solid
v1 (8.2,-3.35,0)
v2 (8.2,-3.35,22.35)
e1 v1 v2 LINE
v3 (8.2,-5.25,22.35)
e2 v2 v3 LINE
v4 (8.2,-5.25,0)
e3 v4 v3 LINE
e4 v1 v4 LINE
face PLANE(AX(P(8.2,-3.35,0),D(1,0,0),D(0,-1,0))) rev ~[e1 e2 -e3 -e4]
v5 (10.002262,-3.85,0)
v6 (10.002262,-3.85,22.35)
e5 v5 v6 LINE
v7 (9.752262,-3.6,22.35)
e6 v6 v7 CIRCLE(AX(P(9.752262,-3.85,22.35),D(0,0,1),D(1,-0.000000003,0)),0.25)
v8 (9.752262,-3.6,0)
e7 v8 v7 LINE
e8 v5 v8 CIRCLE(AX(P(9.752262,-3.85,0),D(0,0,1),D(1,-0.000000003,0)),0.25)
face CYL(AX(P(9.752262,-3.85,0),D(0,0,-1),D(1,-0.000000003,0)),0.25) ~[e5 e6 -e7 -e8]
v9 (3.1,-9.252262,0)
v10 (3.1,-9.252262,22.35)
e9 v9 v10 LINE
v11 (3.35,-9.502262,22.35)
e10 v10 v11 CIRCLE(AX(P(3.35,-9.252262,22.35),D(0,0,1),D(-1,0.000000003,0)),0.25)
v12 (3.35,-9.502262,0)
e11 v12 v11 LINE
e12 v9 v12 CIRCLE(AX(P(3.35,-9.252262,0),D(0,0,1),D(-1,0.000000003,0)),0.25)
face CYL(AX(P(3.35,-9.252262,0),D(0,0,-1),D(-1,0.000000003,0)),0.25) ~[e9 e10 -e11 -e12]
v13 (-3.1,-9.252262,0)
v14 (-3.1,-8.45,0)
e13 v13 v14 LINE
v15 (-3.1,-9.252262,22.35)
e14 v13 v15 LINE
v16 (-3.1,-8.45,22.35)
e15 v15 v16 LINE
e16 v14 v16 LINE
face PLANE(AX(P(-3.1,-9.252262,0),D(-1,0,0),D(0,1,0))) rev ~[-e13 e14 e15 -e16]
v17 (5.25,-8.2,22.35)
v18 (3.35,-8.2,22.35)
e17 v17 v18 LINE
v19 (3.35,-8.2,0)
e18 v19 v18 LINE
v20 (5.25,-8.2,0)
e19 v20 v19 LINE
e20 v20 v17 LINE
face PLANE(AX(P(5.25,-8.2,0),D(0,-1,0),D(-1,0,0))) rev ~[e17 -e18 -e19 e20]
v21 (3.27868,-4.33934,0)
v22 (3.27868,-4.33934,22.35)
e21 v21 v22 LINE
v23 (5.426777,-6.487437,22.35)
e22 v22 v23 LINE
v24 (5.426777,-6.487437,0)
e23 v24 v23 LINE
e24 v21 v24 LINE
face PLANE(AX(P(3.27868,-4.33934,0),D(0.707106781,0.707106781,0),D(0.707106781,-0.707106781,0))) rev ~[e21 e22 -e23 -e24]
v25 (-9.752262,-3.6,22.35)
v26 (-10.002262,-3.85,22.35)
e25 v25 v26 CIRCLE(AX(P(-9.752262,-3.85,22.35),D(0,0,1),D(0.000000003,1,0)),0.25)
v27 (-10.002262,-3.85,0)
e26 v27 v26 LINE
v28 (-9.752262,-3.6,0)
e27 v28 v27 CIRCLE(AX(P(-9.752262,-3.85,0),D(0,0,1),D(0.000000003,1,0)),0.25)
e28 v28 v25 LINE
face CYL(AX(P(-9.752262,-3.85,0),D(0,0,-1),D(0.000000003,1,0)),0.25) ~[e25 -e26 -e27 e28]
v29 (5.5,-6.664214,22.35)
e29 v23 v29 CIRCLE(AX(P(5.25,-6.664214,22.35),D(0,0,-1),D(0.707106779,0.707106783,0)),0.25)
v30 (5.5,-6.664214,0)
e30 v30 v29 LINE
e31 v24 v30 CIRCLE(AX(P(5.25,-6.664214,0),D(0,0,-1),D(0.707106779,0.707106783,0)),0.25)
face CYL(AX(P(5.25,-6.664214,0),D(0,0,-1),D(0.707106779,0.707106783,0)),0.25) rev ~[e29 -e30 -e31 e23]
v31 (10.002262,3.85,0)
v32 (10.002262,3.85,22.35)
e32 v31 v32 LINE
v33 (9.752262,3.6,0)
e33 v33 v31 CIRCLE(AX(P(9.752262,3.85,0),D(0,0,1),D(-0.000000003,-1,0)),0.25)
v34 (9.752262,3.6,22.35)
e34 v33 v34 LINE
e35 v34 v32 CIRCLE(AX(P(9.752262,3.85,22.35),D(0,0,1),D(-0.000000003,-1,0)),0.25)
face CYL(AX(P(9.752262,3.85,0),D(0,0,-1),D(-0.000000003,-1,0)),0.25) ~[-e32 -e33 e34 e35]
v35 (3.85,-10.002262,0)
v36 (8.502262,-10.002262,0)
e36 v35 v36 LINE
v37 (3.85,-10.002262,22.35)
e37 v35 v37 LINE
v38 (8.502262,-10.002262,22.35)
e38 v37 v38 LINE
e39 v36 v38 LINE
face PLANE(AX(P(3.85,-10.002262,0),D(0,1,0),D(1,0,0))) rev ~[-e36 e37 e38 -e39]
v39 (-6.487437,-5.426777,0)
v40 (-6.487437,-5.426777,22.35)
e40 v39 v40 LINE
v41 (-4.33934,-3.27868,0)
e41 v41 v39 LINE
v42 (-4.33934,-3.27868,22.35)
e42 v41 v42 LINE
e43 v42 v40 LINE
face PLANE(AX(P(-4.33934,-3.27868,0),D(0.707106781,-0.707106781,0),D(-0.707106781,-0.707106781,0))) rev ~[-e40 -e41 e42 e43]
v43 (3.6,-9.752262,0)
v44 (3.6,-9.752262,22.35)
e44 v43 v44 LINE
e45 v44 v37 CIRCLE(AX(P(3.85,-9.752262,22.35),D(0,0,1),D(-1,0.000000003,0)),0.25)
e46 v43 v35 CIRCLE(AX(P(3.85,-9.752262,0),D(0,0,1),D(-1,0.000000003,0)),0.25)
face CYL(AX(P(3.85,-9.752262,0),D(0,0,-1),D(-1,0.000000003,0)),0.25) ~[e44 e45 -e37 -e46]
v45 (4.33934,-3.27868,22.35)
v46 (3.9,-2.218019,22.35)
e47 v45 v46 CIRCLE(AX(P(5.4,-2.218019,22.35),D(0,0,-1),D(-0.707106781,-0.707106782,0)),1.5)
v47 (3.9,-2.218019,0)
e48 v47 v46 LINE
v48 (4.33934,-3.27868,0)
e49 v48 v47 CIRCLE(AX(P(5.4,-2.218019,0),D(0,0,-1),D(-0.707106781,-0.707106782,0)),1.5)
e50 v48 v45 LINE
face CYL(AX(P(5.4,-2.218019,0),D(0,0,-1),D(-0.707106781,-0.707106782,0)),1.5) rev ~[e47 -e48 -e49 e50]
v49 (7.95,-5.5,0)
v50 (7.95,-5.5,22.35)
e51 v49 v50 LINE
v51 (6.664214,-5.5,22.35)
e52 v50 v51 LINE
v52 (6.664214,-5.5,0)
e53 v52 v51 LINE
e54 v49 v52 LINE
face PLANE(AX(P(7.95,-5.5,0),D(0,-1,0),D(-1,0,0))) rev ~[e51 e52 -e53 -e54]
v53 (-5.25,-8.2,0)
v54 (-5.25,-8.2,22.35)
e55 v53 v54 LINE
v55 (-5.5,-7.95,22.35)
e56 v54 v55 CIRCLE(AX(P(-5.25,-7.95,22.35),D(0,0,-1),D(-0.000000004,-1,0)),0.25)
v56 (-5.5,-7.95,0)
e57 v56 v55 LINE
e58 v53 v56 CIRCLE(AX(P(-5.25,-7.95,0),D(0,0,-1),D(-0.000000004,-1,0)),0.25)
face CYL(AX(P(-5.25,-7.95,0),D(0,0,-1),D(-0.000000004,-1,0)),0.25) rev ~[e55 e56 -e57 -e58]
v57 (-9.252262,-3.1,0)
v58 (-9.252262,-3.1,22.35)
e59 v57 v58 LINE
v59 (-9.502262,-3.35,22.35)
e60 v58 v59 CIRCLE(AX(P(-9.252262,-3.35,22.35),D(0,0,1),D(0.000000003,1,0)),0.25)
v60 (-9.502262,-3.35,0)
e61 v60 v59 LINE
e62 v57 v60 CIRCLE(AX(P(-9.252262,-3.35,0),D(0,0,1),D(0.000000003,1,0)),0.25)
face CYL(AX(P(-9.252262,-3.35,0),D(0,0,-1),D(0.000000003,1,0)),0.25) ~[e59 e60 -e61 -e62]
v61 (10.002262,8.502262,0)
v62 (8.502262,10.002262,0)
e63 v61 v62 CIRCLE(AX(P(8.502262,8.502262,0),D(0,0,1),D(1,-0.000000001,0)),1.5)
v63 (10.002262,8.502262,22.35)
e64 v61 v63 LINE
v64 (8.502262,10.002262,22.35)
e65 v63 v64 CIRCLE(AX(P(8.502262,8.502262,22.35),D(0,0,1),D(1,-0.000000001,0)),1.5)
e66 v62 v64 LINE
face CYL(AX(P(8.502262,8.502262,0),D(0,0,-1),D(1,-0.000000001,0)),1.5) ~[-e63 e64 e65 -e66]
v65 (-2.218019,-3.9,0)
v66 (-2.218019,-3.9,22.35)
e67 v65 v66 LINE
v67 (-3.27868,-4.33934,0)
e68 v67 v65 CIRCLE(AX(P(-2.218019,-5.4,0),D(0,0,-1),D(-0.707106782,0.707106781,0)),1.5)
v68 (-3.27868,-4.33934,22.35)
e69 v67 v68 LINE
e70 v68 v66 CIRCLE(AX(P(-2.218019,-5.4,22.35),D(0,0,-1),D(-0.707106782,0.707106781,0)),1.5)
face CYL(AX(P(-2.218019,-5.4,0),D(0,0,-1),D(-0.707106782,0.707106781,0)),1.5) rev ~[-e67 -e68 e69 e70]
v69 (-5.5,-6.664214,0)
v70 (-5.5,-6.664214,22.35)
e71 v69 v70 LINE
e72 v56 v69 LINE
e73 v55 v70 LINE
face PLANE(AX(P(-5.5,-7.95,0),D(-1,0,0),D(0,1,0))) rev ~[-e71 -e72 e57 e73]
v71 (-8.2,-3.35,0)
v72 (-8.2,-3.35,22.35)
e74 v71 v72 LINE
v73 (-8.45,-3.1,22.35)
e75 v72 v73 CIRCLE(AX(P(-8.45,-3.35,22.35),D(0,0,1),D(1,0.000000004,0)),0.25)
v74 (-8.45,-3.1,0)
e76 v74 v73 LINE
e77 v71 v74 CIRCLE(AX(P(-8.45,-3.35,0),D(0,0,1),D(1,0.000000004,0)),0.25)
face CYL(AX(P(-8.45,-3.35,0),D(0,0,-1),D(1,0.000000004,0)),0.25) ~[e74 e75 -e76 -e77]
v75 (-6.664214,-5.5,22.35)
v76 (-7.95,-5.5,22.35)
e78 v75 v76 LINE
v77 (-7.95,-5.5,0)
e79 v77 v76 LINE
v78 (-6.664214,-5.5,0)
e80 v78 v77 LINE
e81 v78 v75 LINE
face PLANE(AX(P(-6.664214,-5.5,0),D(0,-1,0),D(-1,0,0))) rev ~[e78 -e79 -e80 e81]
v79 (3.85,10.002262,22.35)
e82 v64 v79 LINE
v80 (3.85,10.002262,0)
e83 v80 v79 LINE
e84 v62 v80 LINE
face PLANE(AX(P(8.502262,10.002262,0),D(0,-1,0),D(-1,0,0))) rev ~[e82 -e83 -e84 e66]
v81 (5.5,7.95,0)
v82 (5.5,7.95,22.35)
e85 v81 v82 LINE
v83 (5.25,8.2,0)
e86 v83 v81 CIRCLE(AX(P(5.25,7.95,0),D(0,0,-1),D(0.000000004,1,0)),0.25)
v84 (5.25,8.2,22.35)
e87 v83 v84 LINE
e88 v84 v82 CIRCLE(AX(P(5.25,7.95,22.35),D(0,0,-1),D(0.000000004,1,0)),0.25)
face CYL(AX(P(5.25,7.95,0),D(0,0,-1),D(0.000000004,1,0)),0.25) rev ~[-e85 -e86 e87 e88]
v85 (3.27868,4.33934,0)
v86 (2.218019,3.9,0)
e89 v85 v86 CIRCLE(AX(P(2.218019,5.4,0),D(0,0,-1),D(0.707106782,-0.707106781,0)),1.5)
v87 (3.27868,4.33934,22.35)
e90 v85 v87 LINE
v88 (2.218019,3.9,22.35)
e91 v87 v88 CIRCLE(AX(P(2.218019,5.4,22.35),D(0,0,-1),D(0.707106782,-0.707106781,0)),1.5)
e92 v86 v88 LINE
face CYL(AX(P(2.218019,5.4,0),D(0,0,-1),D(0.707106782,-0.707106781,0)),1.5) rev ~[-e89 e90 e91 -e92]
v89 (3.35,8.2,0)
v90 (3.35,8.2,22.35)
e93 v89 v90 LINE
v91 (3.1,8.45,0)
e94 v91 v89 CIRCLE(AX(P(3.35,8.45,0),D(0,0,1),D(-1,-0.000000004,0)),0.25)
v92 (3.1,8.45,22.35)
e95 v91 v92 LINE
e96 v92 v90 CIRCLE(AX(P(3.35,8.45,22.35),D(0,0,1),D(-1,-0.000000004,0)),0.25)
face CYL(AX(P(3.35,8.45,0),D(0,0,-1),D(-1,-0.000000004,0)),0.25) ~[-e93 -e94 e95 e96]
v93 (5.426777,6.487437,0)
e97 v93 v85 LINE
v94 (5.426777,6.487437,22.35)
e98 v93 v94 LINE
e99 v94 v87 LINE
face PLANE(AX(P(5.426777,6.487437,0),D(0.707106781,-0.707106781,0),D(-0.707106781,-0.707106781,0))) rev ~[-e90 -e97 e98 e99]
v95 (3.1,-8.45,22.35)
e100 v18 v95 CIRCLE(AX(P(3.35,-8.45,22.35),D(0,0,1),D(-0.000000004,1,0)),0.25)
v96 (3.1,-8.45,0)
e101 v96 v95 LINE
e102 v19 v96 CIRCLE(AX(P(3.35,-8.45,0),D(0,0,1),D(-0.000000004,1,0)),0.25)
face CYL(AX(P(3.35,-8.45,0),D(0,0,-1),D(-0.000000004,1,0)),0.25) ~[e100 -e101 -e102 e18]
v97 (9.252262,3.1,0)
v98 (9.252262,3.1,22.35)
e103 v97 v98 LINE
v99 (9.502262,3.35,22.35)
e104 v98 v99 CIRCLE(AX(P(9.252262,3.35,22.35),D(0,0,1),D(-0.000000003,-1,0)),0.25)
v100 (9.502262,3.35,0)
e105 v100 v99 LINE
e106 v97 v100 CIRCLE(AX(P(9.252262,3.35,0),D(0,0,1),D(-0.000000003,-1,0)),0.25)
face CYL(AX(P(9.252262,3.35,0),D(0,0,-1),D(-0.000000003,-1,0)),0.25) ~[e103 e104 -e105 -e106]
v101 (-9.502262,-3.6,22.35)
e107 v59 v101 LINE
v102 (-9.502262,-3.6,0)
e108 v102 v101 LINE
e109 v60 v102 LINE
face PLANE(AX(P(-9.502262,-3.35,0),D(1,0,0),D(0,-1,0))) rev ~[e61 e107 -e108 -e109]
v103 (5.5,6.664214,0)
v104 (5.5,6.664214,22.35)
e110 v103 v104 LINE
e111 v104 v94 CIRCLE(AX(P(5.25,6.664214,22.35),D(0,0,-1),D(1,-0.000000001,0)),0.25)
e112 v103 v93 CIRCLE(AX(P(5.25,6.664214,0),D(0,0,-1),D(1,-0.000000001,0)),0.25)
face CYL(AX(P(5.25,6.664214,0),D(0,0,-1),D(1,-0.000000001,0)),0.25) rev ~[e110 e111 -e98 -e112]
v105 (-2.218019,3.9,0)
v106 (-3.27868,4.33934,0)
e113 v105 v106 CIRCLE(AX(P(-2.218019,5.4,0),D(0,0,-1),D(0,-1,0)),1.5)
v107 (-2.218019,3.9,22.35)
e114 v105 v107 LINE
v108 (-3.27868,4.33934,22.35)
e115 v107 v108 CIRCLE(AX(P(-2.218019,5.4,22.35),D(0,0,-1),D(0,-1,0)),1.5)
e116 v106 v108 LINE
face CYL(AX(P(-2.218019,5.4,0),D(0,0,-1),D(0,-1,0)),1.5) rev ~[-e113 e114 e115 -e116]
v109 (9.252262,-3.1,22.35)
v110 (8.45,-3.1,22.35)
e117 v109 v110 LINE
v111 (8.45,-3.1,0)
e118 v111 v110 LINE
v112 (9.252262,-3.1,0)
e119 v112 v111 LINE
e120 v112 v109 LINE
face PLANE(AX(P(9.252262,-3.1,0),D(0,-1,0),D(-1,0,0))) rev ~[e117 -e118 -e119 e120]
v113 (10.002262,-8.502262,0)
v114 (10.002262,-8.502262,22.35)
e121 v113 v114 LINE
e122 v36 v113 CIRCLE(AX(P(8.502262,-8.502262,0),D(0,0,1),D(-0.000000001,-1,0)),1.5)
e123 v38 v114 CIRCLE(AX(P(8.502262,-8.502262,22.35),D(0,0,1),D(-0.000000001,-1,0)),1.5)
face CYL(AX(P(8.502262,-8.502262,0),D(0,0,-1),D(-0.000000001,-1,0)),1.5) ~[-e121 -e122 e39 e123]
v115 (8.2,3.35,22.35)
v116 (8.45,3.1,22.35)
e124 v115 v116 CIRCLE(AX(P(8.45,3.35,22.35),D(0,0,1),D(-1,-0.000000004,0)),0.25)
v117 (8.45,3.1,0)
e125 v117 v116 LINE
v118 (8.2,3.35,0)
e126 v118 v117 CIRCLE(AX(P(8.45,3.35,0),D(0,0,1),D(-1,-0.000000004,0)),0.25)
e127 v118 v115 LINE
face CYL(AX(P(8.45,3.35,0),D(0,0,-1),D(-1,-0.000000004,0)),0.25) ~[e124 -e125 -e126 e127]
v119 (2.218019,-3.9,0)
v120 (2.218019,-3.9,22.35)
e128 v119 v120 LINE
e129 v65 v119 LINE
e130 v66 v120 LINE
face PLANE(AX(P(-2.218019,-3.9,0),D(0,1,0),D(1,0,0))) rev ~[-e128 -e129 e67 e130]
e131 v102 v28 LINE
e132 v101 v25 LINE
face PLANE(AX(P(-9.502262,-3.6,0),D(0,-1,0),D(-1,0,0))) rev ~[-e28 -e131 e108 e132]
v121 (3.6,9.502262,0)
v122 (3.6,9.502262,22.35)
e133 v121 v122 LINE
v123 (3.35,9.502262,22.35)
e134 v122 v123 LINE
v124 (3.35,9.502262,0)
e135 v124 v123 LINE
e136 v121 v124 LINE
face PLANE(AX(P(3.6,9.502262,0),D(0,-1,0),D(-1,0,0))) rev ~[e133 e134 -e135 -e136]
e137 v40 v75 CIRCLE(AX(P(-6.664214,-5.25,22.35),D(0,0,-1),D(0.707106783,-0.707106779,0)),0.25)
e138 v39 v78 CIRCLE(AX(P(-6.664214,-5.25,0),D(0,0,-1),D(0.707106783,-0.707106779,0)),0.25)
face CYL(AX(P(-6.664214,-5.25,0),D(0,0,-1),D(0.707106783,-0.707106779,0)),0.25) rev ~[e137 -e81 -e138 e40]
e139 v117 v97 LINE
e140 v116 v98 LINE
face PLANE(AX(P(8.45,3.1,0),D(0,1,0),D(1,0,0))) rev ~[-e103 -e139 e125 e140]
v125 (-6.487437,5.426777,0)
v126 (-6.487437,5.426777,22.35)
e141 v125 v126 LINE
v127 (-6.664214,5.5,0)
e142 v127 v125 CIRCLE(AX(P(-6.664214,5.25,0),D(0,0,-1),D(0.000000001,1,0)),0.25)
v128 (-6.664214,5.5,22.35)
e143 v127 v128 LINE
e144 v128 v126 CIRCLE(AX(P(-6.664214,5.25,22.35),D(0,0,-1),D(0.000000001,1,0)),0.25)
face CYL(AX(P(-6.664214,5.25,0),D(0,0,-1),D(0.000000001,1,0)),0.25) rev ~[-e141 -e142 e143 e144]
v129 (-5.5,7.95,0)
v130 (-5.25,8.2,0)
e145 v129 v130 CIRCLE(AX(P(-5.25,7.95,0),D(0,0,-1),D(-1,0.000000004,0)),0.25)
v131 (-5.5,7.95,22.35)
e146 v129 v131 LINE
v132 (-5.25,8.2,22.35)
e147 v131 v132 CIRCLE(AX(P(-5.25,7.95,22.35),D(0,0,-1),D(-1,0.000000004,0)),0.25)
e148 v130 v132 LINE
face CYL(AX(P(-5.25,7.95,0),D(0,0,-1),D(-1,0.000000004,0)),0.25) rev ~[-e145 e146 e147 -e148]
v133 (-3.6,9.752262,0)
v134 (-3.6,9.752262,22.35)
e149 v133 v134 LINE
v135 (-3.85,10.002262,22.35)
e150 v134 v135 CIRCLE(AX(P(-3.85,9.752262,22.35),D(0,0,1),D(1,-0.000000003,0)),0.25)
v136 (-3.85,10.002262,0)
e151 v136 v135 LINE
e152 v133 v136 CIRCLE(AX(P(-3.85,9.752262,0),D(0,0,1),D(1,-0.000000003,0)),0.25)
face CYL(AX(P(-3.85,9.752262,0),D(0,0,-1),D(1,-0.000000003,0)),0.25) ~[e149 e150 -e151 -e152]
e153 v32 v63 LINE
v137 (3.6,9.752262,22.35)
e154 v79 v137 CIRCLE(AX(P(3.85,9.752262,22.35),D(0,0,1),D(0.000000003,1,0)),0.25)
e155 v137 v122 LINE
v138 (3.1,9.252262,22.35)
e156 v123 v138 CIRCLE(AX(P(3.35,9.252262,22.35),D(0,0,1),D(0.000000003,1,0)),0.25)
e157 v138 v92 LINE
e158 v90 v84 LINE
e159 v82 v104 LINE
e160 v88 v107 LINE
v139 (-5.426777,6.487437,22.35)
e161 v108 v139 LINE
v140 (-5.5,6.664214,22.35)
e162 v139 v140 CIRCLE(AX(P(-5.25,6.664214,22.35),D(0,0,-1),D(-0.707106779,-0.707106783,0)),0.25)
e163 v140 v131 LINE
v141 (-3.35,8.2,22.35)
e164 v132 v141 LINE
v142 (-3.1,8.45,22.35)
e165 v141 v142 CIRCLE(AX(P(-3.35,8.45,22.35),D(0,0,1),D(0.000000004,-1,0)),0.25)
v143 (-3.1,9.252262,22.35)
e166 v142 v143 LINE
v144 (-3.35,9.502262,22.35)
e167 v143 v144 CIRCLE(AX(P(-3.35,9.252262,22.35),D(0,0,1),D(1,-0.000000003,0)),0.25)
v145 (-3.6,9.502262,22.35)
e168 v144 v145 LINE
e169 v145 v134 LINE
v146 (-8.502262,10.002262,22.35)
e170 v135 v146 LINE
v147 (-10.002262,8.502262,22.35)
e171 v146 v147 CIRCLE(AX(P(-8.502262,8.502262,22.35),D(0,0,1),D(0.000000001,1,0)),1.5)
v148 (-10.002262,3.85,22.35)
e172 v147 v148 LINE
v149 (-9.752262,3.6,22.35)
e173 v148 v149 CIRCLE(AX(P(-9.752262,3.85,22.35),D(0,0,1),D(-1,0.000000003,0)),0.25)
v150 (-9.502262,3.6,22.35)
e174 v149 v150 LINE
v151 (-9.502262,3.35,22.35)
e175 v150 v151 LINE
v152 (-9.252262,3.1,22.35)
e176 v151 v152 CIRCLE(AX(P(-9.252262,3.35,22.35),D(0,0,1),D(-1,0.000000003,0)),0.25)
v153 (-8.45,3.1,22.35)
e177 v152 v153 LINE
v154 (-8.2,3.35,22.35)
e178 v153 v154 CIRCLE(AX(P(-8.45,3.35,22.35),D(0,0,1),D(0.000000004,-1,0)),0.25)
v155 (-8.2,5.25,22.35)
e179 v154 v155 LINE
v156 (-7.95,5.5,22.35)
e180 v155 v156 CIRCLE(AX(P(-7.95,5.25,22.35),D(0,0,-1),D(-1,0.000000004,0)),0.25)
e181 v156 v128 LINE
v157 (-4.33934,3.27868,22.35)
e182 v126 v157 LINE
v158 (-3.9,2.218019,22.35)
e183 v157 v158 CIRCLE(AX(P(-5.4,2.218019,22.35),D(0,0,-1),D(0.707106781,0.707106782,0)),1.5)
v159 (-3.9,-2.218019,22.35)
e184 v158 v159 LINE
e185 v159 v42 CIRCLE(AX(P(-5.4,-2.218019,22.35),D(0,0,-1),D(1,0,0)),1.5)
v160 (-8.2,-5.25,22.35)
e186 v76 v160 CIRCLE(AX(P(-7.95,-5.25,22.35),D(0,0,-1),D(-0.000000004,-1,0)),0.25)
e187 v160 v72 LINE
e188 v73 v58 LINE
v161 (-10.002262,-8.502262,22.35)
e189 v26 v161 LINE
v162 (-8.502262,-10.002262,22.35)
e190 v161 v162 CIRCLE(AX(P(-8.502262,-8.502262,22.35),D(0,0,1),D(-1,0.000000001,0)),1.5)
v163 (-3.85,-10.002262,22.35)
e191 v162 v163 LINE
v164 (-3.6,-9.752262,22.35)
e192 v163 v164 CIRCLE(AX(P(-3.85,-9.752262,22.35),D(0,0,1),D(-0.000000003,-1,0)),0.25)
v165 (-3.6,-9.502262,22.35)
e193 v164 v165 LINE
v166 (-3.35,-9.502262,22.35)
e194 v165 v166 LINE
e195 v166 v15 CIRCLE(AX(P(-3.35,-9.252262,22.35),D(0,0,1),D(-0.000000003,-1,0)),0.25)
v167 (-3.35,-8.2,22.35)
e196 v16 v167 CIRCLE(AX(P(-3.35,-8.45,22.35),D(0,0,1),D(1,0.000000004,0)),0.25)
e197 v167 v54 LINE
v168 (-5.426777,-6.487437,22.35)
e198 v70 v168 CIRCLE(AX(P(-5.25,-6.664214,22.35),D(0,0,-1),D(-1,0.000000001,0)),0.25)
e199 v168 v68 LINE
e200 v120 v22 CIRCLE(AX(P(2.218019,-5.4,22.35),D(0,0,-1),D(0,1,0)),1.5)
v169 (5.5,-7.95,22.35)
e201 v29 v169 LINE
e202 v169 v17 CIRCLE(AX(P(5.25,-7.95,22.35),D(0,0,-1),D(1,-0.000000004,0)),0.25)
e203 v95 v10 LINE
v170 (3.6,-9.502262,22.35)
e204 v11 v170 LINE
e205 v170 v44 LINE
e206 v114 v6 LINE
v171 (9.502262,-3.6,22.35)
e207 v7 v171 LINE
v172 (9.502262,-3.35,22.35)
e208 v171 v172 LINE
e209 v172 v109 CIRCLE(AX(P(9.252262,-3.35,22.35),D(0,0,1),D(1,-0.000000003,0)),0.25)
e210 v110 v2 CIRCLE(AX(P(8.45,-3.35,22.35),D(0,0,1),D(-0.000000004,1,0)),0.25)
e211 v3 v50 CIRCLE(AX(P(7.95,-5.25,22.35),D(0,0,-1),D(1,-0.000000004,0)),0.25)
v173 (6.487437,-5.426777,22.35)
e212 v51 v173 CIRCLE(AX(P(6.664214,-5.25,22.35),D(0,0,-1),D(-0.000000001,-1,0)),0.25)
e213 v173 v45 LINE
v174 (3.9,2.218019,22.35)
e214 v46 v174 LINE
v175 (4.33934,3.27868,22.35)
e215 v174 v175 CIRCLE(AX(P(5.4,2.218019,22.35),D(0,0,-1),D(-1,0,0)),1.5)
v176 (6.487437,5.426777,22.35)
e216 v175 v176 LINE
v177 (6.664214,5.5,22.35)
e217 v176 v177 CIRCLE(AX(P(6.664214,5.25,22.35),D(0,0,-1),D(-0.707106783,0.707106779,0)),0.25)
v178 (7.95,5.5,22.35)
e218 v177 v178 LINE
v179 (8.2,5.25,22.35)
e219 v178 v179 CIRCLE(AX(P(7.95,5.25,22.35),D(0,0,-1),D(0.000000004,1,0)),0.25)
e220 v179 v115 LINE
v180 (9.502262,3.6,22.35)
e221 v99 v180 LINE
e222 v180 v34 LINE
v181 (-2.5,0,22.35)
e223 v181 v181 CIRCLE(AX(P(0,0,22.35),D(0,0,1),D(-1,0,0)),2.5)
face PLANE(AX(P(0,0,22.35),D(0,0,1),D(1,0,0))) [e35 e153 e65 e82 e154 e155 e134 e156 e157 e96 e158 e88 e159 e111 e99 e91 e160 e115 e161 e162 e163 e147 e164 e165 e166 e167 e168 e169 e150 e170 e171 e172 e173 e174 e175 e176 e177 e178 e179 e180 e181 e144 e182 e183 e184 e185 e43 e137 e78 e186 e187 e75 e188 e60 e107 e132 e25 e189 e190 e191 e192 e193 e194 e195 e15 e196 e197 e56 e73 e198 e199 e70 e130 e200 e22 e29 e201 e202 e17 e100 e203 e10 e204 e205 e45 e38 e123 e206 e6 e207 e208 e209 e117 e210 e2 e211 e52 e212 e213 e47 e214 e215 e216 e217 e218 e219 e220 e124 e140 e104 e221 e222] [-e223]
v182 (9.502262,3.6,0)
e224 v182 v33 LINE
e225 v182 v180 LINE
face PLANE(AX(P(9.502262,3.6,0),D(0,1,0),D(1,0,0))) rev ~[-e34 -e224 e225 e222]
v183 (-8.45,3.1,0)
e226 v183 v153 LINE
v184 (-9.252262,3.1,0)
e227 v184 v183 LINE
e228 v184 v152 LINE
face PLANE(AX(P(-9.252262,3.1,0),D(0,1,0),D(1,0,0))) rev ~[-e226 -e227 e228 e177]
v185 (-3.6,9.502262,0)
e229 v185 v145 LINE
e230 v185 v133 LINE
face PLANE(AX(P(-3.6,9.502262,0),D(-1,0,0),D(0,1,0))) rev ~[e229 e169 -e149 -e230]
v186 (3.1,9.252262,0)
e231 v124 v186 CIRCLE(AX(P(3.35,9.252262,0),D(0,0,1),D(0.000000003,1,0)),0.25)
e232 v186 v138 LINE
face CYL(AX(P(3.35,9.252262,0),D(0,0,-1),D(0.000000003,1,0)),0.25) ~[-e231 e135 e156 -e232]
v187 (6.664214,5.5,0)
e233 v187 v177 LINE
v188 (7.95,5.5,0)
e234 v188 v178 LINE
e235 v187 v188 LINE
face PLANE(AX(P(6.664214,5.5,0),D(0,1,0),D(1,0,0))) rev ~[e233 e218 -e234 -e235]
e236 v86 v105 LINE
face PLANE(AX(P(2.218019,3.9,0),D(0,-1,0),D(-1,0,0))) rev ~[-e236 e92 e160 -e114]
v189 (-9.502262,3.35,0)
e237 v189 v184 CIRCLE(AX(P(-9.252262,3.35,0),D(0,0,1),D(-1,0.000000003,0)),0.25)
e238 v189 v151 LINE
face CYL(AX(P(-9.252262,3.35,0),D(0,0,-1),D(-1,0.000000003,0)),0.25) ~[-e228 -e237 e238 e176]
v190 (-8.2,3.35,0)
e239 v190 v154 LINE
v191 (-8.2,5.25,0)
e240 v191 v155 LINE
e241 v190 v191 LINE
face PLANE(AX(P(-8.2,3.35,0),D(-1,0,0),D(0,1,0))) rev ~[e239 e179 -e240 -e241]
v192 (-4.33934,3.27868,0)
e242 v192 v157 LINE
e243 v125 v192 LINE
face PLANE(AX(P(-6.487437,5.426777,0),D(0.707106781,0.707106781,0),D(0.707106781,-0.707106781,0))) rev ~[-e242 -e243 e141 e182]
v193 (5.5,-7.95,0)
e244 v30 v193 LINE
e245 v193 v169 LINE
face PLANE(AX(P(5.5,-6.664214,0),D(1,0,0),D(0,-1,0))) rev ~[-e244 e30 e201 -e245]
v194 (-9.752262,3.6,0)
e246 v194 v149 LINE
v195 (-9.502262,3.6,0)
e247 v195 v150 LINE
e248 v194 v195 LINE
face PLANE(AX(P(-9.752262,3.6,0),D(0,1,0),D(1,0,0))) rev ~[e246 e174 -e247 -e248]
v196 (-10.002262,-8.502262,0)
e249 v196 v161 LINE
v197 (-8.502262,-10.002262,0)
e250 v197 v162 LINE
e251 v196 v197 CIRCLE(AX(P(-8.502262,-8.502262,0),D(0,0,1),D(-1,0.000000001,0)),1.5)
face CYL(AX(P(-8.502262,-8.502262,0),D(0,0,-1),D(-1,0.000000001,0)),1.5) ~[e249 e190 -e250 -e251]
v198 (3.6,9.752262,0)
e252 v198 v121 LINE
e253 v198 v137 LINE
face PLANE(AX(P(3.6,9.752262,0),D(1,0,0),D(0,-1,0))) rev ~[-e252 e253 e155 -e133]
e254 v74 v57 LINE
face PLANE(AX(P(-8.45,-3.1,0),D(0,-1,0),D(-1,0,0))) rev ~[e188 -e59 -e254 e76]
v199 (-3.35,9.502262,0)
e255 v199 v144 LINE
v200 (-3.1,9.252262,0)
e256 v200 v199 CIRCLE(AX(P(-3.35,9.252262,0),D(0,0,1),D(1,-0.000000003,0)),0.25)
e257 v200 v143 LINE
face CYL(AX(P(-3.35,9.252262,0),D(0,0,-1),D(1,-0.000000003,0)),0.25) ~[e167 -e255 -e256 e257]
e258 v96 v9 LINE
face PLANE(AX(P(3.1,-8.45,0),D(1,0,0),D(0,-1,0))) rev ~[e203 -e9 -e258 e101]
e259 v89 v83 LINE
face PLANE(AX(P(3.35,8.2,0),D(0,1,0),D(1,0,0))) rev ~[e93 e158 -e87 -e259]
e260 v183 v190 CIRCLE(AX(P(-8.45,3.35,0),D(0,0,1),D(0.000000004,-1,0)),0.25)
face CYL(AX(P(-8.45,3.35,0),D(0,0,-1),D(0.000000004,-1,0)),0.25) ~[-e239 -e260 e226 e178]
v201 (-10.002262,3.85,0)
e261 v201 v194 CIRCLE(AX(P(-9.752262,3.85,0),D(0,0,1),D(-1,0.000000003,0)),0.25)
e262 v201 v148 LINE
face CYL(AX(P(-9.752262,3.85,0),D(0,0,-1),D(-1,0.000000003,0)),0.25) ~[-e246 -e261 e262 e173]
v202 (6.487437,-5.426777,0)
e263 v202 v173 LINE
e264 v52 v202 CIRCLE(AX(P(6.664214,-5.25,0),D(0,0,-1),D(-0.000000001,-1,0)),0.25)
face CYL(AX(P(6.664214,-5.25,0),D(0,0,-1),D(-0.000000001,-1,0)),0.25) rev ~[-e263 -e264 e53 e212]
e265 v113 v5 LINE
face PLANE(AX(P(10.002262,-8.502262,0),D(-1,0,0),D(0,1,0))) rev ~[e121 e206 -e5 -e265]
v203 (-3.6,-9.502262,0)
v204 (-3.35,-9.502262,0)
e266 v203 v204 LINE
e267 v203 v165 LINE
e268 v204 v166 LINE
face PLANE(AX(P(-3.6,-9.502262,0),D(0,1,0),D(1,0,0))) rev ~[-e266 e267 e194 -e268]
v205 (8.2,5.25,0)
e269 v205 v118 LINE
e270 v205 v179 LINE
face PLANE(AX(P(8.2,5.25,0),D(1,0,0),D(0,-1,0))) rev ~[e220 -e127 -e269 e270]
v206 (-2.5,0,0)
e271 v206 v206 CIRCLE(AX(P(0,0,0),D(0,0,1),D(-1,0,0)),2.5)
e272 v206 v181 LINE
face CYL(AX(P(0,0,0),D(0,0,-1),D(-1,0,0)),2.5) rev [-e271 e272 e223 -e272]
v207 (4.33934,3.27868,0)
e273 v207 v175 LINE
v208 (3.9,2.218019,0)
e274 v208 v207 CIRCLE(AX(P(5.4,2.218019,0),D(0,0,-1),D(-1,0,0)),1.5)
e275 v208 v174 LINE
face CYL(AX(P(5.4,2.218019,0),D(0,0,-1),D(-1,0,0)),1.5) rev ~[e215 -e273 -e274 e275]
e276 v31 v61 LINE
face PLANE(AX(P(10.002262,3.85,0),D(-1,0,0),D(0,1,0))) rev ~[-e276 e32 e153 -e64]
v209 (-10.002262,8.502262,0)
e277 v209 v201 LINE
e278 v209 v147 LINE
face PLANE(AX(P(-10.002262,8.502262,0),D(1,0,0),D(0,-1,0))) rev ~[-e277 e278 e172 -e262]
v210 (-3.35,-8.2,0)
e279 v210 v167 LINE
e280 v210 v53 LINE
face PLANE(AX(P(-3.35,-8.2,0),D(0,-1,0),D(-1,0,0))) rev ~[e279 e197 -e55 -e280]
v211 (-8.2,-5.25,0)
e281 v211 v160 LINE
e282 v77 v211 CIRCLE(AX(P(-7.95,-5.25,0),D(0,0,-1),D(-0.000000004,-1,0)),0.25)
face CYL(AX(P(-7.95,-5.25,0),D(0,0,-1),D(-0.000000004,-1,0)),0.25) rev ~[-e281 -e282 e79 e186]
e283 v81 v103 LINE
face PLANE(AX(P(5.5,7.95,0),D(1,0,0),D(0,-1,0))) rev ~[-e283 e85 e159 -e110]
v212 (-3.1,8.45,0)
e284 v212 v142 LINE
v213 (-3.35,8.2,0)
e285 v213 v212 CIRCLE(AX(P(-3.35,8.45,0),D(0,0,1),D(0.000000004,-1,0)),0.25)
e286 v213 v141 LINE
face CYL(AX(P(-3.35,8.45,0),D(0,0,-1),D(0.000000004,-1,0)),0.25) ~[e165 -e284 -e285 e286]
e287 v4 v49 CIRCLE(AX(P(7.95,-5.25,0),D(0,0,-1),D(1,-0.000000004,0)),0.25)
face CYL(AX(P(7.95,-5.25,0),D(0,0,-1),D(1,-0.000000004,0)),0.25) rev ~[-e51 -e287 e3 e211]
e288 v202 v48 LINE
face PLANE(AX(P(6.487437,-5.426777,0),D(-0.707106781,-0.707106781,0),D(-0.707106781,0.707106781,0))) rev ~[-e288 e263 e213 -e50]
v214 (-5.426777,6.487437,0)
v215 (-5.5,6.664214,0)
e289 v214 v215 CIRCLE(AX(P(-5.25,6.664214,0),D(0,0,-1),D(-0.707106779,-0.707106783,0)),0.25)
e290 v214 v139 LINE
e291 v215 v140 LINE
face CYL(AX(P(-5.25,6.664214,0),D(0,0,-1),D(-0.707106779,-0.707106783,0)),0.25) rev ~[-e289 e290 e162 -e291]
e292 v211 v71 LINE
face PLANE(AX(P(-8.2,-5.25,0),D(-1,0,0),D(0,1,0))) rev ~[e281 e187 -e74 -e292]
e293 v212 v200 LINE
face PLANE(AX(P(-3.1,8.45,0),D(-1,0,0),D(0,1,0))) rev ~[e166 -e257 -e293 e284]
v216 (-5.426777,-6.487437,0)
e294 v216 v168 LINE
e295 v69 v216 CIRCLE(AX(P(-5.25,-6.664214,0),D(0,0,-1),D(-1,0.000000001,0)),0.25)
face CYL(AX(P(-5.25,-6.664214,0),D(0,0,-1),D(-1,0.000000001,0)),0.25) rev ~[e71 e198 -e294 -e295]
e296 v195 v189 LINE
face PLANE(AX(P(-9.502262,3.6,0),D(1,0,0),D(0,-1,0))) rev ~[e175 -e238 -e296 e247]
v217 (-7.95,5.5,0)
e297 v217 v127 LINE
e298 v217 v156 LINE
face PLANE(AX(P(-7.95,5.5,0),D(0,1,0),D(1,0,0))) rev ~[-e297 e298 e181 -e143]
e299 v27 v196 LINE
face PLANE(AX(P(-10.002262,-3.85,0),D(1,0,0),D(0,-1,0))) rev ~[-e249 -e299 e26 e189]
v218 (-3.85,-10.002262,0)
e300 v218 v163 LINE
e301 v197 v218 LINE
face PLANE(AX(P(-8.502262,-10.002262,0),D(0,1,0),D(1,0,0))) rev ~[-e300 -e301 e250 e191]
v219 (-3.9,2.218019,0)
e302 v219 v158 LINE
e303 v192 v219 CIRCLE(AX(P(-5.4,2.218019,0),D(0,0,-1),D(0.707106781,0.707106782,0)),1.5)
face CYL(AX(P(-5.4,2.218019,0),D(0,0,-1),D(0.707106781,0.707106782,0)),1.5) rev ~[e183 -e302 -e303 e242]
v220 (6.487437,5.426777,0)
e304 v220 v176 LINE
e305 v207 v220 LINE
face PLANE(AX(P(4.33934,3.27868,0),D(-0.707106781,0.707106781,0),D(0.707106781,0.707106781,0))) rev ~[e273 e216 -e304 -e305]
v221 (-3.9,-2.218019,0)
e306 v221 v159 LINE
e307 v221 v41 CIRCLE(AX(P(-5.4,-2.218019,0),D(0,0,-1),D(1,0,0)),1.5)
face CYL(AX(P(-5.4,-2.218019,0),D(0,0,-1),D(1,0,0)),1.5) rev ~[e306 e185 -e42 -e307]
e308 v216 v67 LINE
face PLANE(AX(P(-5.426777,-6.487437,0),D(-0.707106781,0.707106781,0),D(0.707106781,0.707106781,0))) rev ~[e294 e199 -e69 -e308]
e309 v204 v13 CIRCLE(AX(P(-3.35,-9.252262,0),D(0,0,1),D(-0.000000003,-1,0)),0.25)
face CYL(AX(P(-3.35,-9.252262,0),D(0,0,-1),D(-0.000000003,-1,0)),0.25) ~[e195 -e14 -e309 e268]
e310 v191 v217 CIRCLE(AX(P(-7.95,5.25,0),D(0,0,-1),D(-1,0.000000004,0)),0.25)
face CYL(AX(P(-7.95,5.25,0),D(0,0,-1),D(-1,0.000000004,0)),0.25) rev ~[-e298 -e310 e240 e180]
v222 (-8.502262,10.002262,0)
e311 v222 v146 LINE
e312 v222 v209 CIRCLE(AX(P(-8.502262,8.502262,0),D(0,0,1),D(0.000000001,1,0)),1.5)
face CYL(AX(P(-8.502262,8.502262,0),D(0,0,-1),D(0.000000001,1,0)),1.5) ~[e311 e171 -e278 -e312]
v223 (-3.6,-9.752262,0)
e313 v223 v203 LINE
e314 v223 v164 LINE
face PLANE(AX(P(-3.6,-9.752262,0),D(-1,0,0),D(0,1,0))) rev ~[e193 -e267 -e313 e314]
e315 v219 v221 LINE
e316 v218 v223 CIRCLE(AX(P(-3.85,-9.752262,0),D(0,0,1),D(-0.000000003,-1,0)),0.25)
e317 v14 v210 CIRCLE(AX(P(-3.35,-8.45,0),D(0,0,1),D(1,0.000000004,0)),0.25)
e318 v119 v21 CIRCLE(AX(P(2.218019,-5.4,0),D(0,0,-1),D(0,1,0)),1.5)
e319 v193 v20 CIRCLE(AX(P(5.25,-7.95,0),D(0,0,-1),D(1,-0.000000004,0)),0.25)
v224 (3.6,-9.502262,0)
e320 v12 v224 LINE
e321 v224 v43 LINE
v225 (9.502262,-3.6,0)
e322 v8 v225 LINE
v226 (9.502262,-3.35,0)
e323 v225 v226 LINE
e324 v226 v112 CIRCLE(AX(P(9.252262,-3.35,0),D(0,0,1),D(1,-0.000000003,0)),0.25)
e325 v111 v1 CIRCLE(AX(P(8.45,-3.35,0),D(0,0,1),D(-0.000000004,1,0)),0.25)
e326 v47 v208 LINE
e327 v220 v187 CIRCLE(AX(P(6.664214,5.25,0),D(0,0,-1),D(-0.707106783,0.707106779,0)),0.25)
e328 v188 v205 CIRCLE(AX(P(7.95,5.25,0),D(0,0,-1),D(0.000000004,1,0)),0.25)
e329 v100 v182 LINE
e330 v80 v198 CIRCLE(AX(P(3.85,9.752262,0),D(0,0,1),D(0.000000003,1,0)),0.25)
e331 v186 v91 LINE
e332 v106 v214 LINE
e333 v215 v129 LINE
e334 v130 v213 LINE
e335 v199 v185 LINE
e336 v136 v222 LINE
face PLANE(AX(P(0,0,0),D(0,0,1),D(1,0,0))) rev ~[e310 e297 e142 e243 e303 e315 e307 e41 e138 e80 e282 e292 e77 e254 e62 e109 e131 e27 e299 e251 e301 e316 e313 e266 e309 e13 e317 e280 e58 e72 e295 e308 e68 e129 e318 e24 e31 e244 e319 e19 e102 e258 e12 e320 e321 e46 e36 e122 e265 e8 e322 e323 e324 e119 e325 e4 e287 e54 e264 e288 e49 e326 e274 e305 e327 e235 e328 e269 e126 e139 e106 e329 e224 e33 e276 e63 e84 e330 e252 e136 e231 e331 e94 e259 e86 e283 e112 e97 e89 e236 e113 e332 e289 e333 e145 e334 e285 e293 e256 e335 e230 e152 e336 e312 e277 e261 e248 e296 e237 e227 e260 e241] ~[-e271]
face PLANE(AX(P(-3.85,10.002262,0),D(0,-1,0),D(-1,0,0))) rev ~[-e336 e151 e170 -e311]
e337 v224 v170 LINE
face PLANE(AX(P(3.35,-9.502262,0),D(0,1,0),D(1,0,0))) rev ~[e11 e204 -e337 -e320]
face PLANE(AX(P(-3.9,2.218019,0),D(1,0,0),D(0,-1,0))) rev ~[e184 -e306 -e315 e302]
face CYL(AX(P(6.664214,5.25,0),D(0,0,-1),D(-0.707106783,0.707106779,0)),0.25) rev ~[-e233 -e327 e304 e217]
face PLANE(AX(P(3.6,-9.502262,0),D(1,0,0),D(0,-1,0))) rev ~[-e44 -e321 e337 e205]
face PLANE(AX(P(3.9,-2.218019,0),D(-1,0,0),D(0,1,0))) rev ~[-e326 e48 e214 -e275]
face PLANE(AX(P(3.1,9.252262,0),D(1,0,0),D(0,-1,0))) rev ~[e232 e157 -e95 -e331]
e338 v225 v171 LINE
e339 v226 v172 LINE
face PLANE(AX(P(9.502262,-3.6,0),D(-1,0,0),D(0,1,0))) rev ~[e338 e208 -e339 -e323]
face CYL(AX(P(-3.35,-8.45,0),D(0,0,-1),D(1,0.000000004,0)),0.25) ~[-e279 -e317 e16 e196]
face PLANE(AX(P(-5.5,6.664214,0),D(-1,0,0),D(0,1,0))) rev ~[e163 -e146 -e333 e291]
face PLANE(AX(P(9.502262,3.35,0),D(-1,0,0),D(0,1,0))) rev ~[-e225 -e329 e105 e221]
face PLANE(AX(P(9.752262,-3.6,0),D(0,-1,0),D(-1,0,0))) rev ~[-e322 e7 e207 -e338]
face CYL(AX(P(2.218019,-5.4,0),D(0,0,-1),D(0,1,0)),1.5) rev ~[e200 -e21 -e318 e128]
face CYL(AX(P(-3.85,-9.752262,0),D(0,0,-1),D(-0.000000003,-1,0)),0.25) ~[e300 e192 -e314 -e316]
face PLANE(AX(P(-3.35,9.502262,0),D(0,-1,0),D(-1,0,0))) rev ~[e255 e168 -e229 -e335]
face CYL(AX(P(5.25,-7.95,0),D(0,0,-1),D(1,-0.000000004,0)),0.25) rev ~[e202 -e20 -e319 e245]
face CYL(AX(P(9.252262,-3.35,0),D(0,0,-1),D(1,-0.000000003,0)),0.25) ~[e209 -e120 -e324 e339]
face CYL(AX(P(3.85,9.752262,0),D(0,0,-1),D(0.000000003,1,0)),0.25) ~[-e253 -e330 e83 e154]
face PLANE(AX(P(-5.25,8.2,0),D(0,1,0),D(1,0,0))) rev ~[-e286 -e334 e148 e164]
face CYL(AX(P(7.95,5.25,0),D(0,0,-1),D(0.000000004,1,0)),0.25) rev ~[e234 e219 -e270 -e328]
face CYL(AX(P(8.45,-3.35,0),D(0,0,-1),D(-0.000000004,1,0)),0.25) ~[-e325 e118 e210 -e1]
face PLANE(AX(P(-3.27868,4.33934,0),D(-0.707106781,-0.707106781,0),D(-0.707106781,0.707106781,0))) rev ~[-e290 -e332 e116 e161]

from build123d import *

# Parameters (mm, degrees)
SKETCH_1_R      = 2.5
EXTRUDE_1_DEPTH = 22.35


with BuildPart() as part:
    # 草图1 → 凸台-拉伸1 (new body)
    with BuildSketch(Plane.XY):
        with BuildLine():
            Line((-8.502261885, -10.002261885), (-3.85, -10.002261885))
            ThreePointArc((-3.85, -10.002261885), (-3.673223305, -9.929038581), (-3.6, -9.752261885))
            Line((-3.6, -9.752261885), (-3.6, -9.502261885))
            Line((-3.6, -9.502261885), (-3.35, -9.502261885))
            ThreePointArc((-3.35, -9.502261885), (-3.173223305, -9.429038581), (-3.1, -9.252261885))
            Line((-3.1, -9.252261885), (-3.1, -8.45))
            ThreePointArc((-3.1, -8.45), (-3.173223305, -8.273223305), (-3.35, -8.2))
            Line((-3.35, -8.2), (-5.25, -8.2))
            ThreePointArc((-5.25, -8.2), (-5.426776695, -8.126776695), (-5.5, -7.95))
            Line((-5.5, -7.95), (-5.5, -6.664213562))
            ThreePointArc((-5.5, -6.664213562), (-5.480969883, -6.568542704), (-5.426776695, -6.487436867))
            Line((-5.426776695, -6.487436867), (-3.278679656, -4.339339828))
            ThreePointArc((-3.278679656, -4.339339828), (-2.792044633, -4.014180701), (-2.218019485, -3.9))
            Line((-2.218019485, -3.9), (2.218019485, -3.9))
            ThreePointArc((2.218019485, -3.9), (2.792044633, -4.014180701), (3.278679656, -4.339339828))
            Line((3.278679656, -4.339339828), (5.426776695, -6.487436867))
            ThreePointArc((5.426776695, -6.487436867), (5.480969883, -6.568542704), (5.5, -6.664213562))
            Line((5.5, -6.664213562), (5.5, -7.95))
            ThreePointArc((5.5, -7.95), (5.426776695, -8.126776695), (5.25, -8.2))
            Line((5.25, -8.2), (3.35, -8.2))
            ThreePointArc((3.35, -8.2), (3.173223305, -8.273223305), (3.1, -8.45))
            Line((3.1, -8.45), (3.1, -9.252261885))
            ThreePointArc((3.1, -9.252261885), (3.173223305, -9.429038581), (3.35, -9.502261885))
            Line((3.35, -9.502261885), (3.6, -9.502261885))
            Line((3.6, -9.502261885), (3.6, -9.752261885))
            ThreePointArc((3.6, -9.752261885), (3.673223305, -9.929038581), (3.85, -10.002261885))
            Line((3.85, -10.002261885), (8.502261885, -10.002261885))
            ThreePointArc((8.502261885, -10.002261885), (9.562922057, -9.562922057), (10.002261885, -8.502261885))
            Line((10.002261885, -8.502261885), (10.002261885, -3.85))
            ThreePointArc((10.002261885, -3.85), (9.929038581, -3.673223305), (9.752261885, -3.6))
            Line((9.752261885, -3.6), (9.502261885, -3.6))
            Line((9.502261885, -3.6), (9.502261885, -3.35))
            ThreePointArc((9.502261885, -3.35), (9.429038581, -3.173223305), (9.252261885, -3.1))
            Line((9.252261885, -3.1), (8.45, -3.1))
            ThreePointArc((8.45, -3.1), (8.273223305, -3.173223305), (8.2, -3.35))
            Line((8.2, -3.35), (8.2, -5.25))
            ThreePointArc((8.2, -5.25), (8.126776695, -5.426776695), (7.95, -5.5))
            Line((7.95, -5.5), (6.664213562, -5.5))
            ThreePointArc((6.664213562, -5.5), (6.568542704, -5.480969883), (6.487436867, -5.426776695))
            Line((6.487436867, -5.426776695), (4.339339828, -3.278679656))
            ThreePointArc((4.339339828, -3.278679656), (4.014180701, -2.792044633), (3.9, -2.218019485))
            Line((3.9, -2.218019485), (3.9, 2.218019485))
            ThreePointArc((3.9, 2.218019485), (4.014180701, 2.792044633), (4.339339828, 3.278679656))
            Line((4.339339828, 3.278679656), (6.487436867, 5.426776695))
            ThreePointArc((6.487436867, 5.426776695), (6.568542704, 5.480969883), (6.664213562, 5.5))
            Line((6.664213562, 5.5), (7.95, 5.5))
            ThreePointArc((7.95, 5.5), (8.126776695, 5.426776695), (8.2, 5.25))
            Line((8.2, 5.25), (8.2, 3.35))
            ThreePointArc((8.2, 3.35), (8.273223305, 3.173223305), (8.45, 3.1))
            Line((8.45, 3.1), (9.252261885, 3.1))
            ThreePointArc((9.252261885, 3.1), (9.429038581, 3.173223305), (9.502261885, 3.35))
            Line((9.502261885, 3.35), (9.502261885, 3.6))
            Line((9.502261885, 3.6), (9.752261885, 3.6))
            ThreePointArc((9.752261885, 3.6), (9.929038581, 3.673223305), (10.002261885, 3.85))
            Line((10.002261885, 3.85), (10.002261885, 8.502261885))
            ThreePointArc((10.002261885, 8.502261885), (9.562922057, 9.562922057), (8.502261885, 10.002261885))
            Line((8.502261885, 10.002261885), (3.85, 10.002261885))
            ThreePointArc((3.85, 10.002261885), (3.673223305, 9.929038581), (3.6, 9.752261885))
            Line((3.6, 9.752261885), (3.6, 9.502261885))
            Line((3.6, 9.502261885), (3.35, 9.502261885))
            ThreePointArc((3.35, 9.502261885), (3.173223305, 9.429038581), (3.1, 9.252261885))
            Line((3.1, 9.252261885), (3.1, 8.45))
            ThreePointArc((3.1, 8.45), (3.173223305, 8.273223305), (3.35, 8.2))
            Line((3.35, 8.2), (5.25, 8.2))
            ThreePointArc((5.25, 8.2), (5.426776695, 8.126776695), (5.5, 7.95))
            Line((5.5, 7.95), (5.5, 6.664213562))
            ThreePointArc((5.5, 6.664213562), (5.480969883, 6.568542704), (5.426776695, 6.487436867))
            Line((5.426776695, 6.487436867), (3.278679656, 4.339339828))
            ThreePointArc((3.278679656, 4.339339828), (2.792044633, 4.014180701), (2.218019485, 3.9))
            Line((2.218019485, 3.9), (-2.218019485, 3.9))
            ThreePointArc((-2.218019485, 3.9), (-2.792044633, 4.014180701), (-3.278679656, 4.339339828))
            Line((-3.278679656, 4.339339828), (-5.426776695, 6.487436867))
            ThreePointArc((-5.426776695, 6.487436867), (-5.480969883, 6.568542704), (-5.5, 6.664213562))
            Line((-5.5, 6.664213562), (-5.5, 7.95))
            ThreePointArc((-5.5, 7.95), (-5.426776695, 8.126776695), (-5.25, 8.2))
            Line((-5.25, 8.2), (-3.35, 8.2))
            ThreePointArc((-3.35, 8.2), (-3.173223305, 8.273223305), (-3.1, 8.45))
            Line((-3.1, 8.45), (-3.1, 9.252261885))
            ThreePointArc((-3.1, 9.252261885), (-3.173223305, 9.429038581), (-3.35, 9.502261885))
            Line((-3.35, 9.502261885), (-3.6, 9.502261885))
            Line((-3.6, 9.502261885), (-3.6, 9.752261885))
            ThreePointArc((-3.6, 9.752261885), (-3.673223305, 9.929038581), (-3.85, 10.002261885))
            Line((-3.85, 10.002261885), (-8.502261885, 10.002261885))
            ThreePointArc((-8.502261885, 10.002261885), (-9.562922057, 9.562922057), (-10.002261885, 8.502261885))
            Line((-10.002261885, 8.502261885), (-10.002261885, 3.85))
            ThreePointArc((-10.002261885, 3.85), (-9.929038581, 3.673223305), (-9.752261885, 3.6))
            Line((-9.752261885, 3.6), (-9.502261885, 3.6))
            Line((-9.502261885, 3.6), (-9.502261885, 3.35))
            ThreePointArc((-9.502261885, 3.35), (-9.429038581, 3.173223305), (-9.252261885, 3.1))
            Line((-9.252261885, 3.1), (-8.45, 3.1))
            ThreePointArc((-8.45, 3.1), (-8.273223305, 3.173223305), (-8.2, 3.35))
            Line((-8.2, 3.35), (-8.2, 5.25))
            ThreePointArc((-8.2, 5.25), (-8.126776695, 5.426776695), (-7.95, 5.5))
            Line((-7.95, 5.5), (-6.664213562, 5.5))
            ThreePointArc((-6.664213562, 5.5), (-6.568542704, 5.480969883), (-6.487436867, 5.426776695))
            Line((-6.487436867, 5.426776695), (-4.339339828, 3.278679656))
            ThreePointArc((-4.339339828, 3.278679656), (-4.014180701, 2.792044633), (-3.9, 2.218019485))
            Line((-3.9, 2.218019485), (-3.9, -2.218019485))
            ThreePointArc((-3.9, -2.218019485), (-4.014180701, -2.792044633), (-4.339339828, -3.278679656))
            Line((-4.339339828, -3.278679656), (-6.487436867, -5.426776695))
            ThreePointArc((-6.487436867, -5.426776695), (-6.568542704, -5.480969883), (-6.664213562, -5.5))
            Line((-6.664213562, -5.5), (-7.95, -5.5))
            ThreePointArc((-7.95, -5.5), (-8.126776695, -5.426776695), (-8.2, -5.25))
            Line((-8.2, -5.25), (-8.2, -3.35))
            ThreePointArc((-8.2, -3.35), (-8.273223305, -3.173223305), (-8.45, -3.1))
            Line((-8.45, -3.1), (-9.252261885, -3.1))
            ThreePointArc((-9.252261885, -3.1), (-9.429038581, -3.173223305), (-9.502261885, -3.35))
            Line((-9.502261885, -3.35), (-9.502261885, -3.6))
            Line((-9.502261885, -3.6), (-9.752261885, -3.6))
            ThreePointArc((-9.752261885, -3.6), (-9.929038581, -3.673223305), (-10.002261885, -3.85))
            Line((-10.002261885, -3.85), (-10.002261885, -8.502261885))
            ThreePointArc((-10.002261885, -8.502261885), (-9.562922057, -9.562922057), (-8.502261885, -10.002261885))
        make_face()
        with Locations(Location((0, 0, 0), (0, 0, 180))):
            Circle(SKETCH_1_R, mode=Mode.SUBTRACT)
    extrude(amount=EXTRUDE_1_DEPTH)


solid = part.part
